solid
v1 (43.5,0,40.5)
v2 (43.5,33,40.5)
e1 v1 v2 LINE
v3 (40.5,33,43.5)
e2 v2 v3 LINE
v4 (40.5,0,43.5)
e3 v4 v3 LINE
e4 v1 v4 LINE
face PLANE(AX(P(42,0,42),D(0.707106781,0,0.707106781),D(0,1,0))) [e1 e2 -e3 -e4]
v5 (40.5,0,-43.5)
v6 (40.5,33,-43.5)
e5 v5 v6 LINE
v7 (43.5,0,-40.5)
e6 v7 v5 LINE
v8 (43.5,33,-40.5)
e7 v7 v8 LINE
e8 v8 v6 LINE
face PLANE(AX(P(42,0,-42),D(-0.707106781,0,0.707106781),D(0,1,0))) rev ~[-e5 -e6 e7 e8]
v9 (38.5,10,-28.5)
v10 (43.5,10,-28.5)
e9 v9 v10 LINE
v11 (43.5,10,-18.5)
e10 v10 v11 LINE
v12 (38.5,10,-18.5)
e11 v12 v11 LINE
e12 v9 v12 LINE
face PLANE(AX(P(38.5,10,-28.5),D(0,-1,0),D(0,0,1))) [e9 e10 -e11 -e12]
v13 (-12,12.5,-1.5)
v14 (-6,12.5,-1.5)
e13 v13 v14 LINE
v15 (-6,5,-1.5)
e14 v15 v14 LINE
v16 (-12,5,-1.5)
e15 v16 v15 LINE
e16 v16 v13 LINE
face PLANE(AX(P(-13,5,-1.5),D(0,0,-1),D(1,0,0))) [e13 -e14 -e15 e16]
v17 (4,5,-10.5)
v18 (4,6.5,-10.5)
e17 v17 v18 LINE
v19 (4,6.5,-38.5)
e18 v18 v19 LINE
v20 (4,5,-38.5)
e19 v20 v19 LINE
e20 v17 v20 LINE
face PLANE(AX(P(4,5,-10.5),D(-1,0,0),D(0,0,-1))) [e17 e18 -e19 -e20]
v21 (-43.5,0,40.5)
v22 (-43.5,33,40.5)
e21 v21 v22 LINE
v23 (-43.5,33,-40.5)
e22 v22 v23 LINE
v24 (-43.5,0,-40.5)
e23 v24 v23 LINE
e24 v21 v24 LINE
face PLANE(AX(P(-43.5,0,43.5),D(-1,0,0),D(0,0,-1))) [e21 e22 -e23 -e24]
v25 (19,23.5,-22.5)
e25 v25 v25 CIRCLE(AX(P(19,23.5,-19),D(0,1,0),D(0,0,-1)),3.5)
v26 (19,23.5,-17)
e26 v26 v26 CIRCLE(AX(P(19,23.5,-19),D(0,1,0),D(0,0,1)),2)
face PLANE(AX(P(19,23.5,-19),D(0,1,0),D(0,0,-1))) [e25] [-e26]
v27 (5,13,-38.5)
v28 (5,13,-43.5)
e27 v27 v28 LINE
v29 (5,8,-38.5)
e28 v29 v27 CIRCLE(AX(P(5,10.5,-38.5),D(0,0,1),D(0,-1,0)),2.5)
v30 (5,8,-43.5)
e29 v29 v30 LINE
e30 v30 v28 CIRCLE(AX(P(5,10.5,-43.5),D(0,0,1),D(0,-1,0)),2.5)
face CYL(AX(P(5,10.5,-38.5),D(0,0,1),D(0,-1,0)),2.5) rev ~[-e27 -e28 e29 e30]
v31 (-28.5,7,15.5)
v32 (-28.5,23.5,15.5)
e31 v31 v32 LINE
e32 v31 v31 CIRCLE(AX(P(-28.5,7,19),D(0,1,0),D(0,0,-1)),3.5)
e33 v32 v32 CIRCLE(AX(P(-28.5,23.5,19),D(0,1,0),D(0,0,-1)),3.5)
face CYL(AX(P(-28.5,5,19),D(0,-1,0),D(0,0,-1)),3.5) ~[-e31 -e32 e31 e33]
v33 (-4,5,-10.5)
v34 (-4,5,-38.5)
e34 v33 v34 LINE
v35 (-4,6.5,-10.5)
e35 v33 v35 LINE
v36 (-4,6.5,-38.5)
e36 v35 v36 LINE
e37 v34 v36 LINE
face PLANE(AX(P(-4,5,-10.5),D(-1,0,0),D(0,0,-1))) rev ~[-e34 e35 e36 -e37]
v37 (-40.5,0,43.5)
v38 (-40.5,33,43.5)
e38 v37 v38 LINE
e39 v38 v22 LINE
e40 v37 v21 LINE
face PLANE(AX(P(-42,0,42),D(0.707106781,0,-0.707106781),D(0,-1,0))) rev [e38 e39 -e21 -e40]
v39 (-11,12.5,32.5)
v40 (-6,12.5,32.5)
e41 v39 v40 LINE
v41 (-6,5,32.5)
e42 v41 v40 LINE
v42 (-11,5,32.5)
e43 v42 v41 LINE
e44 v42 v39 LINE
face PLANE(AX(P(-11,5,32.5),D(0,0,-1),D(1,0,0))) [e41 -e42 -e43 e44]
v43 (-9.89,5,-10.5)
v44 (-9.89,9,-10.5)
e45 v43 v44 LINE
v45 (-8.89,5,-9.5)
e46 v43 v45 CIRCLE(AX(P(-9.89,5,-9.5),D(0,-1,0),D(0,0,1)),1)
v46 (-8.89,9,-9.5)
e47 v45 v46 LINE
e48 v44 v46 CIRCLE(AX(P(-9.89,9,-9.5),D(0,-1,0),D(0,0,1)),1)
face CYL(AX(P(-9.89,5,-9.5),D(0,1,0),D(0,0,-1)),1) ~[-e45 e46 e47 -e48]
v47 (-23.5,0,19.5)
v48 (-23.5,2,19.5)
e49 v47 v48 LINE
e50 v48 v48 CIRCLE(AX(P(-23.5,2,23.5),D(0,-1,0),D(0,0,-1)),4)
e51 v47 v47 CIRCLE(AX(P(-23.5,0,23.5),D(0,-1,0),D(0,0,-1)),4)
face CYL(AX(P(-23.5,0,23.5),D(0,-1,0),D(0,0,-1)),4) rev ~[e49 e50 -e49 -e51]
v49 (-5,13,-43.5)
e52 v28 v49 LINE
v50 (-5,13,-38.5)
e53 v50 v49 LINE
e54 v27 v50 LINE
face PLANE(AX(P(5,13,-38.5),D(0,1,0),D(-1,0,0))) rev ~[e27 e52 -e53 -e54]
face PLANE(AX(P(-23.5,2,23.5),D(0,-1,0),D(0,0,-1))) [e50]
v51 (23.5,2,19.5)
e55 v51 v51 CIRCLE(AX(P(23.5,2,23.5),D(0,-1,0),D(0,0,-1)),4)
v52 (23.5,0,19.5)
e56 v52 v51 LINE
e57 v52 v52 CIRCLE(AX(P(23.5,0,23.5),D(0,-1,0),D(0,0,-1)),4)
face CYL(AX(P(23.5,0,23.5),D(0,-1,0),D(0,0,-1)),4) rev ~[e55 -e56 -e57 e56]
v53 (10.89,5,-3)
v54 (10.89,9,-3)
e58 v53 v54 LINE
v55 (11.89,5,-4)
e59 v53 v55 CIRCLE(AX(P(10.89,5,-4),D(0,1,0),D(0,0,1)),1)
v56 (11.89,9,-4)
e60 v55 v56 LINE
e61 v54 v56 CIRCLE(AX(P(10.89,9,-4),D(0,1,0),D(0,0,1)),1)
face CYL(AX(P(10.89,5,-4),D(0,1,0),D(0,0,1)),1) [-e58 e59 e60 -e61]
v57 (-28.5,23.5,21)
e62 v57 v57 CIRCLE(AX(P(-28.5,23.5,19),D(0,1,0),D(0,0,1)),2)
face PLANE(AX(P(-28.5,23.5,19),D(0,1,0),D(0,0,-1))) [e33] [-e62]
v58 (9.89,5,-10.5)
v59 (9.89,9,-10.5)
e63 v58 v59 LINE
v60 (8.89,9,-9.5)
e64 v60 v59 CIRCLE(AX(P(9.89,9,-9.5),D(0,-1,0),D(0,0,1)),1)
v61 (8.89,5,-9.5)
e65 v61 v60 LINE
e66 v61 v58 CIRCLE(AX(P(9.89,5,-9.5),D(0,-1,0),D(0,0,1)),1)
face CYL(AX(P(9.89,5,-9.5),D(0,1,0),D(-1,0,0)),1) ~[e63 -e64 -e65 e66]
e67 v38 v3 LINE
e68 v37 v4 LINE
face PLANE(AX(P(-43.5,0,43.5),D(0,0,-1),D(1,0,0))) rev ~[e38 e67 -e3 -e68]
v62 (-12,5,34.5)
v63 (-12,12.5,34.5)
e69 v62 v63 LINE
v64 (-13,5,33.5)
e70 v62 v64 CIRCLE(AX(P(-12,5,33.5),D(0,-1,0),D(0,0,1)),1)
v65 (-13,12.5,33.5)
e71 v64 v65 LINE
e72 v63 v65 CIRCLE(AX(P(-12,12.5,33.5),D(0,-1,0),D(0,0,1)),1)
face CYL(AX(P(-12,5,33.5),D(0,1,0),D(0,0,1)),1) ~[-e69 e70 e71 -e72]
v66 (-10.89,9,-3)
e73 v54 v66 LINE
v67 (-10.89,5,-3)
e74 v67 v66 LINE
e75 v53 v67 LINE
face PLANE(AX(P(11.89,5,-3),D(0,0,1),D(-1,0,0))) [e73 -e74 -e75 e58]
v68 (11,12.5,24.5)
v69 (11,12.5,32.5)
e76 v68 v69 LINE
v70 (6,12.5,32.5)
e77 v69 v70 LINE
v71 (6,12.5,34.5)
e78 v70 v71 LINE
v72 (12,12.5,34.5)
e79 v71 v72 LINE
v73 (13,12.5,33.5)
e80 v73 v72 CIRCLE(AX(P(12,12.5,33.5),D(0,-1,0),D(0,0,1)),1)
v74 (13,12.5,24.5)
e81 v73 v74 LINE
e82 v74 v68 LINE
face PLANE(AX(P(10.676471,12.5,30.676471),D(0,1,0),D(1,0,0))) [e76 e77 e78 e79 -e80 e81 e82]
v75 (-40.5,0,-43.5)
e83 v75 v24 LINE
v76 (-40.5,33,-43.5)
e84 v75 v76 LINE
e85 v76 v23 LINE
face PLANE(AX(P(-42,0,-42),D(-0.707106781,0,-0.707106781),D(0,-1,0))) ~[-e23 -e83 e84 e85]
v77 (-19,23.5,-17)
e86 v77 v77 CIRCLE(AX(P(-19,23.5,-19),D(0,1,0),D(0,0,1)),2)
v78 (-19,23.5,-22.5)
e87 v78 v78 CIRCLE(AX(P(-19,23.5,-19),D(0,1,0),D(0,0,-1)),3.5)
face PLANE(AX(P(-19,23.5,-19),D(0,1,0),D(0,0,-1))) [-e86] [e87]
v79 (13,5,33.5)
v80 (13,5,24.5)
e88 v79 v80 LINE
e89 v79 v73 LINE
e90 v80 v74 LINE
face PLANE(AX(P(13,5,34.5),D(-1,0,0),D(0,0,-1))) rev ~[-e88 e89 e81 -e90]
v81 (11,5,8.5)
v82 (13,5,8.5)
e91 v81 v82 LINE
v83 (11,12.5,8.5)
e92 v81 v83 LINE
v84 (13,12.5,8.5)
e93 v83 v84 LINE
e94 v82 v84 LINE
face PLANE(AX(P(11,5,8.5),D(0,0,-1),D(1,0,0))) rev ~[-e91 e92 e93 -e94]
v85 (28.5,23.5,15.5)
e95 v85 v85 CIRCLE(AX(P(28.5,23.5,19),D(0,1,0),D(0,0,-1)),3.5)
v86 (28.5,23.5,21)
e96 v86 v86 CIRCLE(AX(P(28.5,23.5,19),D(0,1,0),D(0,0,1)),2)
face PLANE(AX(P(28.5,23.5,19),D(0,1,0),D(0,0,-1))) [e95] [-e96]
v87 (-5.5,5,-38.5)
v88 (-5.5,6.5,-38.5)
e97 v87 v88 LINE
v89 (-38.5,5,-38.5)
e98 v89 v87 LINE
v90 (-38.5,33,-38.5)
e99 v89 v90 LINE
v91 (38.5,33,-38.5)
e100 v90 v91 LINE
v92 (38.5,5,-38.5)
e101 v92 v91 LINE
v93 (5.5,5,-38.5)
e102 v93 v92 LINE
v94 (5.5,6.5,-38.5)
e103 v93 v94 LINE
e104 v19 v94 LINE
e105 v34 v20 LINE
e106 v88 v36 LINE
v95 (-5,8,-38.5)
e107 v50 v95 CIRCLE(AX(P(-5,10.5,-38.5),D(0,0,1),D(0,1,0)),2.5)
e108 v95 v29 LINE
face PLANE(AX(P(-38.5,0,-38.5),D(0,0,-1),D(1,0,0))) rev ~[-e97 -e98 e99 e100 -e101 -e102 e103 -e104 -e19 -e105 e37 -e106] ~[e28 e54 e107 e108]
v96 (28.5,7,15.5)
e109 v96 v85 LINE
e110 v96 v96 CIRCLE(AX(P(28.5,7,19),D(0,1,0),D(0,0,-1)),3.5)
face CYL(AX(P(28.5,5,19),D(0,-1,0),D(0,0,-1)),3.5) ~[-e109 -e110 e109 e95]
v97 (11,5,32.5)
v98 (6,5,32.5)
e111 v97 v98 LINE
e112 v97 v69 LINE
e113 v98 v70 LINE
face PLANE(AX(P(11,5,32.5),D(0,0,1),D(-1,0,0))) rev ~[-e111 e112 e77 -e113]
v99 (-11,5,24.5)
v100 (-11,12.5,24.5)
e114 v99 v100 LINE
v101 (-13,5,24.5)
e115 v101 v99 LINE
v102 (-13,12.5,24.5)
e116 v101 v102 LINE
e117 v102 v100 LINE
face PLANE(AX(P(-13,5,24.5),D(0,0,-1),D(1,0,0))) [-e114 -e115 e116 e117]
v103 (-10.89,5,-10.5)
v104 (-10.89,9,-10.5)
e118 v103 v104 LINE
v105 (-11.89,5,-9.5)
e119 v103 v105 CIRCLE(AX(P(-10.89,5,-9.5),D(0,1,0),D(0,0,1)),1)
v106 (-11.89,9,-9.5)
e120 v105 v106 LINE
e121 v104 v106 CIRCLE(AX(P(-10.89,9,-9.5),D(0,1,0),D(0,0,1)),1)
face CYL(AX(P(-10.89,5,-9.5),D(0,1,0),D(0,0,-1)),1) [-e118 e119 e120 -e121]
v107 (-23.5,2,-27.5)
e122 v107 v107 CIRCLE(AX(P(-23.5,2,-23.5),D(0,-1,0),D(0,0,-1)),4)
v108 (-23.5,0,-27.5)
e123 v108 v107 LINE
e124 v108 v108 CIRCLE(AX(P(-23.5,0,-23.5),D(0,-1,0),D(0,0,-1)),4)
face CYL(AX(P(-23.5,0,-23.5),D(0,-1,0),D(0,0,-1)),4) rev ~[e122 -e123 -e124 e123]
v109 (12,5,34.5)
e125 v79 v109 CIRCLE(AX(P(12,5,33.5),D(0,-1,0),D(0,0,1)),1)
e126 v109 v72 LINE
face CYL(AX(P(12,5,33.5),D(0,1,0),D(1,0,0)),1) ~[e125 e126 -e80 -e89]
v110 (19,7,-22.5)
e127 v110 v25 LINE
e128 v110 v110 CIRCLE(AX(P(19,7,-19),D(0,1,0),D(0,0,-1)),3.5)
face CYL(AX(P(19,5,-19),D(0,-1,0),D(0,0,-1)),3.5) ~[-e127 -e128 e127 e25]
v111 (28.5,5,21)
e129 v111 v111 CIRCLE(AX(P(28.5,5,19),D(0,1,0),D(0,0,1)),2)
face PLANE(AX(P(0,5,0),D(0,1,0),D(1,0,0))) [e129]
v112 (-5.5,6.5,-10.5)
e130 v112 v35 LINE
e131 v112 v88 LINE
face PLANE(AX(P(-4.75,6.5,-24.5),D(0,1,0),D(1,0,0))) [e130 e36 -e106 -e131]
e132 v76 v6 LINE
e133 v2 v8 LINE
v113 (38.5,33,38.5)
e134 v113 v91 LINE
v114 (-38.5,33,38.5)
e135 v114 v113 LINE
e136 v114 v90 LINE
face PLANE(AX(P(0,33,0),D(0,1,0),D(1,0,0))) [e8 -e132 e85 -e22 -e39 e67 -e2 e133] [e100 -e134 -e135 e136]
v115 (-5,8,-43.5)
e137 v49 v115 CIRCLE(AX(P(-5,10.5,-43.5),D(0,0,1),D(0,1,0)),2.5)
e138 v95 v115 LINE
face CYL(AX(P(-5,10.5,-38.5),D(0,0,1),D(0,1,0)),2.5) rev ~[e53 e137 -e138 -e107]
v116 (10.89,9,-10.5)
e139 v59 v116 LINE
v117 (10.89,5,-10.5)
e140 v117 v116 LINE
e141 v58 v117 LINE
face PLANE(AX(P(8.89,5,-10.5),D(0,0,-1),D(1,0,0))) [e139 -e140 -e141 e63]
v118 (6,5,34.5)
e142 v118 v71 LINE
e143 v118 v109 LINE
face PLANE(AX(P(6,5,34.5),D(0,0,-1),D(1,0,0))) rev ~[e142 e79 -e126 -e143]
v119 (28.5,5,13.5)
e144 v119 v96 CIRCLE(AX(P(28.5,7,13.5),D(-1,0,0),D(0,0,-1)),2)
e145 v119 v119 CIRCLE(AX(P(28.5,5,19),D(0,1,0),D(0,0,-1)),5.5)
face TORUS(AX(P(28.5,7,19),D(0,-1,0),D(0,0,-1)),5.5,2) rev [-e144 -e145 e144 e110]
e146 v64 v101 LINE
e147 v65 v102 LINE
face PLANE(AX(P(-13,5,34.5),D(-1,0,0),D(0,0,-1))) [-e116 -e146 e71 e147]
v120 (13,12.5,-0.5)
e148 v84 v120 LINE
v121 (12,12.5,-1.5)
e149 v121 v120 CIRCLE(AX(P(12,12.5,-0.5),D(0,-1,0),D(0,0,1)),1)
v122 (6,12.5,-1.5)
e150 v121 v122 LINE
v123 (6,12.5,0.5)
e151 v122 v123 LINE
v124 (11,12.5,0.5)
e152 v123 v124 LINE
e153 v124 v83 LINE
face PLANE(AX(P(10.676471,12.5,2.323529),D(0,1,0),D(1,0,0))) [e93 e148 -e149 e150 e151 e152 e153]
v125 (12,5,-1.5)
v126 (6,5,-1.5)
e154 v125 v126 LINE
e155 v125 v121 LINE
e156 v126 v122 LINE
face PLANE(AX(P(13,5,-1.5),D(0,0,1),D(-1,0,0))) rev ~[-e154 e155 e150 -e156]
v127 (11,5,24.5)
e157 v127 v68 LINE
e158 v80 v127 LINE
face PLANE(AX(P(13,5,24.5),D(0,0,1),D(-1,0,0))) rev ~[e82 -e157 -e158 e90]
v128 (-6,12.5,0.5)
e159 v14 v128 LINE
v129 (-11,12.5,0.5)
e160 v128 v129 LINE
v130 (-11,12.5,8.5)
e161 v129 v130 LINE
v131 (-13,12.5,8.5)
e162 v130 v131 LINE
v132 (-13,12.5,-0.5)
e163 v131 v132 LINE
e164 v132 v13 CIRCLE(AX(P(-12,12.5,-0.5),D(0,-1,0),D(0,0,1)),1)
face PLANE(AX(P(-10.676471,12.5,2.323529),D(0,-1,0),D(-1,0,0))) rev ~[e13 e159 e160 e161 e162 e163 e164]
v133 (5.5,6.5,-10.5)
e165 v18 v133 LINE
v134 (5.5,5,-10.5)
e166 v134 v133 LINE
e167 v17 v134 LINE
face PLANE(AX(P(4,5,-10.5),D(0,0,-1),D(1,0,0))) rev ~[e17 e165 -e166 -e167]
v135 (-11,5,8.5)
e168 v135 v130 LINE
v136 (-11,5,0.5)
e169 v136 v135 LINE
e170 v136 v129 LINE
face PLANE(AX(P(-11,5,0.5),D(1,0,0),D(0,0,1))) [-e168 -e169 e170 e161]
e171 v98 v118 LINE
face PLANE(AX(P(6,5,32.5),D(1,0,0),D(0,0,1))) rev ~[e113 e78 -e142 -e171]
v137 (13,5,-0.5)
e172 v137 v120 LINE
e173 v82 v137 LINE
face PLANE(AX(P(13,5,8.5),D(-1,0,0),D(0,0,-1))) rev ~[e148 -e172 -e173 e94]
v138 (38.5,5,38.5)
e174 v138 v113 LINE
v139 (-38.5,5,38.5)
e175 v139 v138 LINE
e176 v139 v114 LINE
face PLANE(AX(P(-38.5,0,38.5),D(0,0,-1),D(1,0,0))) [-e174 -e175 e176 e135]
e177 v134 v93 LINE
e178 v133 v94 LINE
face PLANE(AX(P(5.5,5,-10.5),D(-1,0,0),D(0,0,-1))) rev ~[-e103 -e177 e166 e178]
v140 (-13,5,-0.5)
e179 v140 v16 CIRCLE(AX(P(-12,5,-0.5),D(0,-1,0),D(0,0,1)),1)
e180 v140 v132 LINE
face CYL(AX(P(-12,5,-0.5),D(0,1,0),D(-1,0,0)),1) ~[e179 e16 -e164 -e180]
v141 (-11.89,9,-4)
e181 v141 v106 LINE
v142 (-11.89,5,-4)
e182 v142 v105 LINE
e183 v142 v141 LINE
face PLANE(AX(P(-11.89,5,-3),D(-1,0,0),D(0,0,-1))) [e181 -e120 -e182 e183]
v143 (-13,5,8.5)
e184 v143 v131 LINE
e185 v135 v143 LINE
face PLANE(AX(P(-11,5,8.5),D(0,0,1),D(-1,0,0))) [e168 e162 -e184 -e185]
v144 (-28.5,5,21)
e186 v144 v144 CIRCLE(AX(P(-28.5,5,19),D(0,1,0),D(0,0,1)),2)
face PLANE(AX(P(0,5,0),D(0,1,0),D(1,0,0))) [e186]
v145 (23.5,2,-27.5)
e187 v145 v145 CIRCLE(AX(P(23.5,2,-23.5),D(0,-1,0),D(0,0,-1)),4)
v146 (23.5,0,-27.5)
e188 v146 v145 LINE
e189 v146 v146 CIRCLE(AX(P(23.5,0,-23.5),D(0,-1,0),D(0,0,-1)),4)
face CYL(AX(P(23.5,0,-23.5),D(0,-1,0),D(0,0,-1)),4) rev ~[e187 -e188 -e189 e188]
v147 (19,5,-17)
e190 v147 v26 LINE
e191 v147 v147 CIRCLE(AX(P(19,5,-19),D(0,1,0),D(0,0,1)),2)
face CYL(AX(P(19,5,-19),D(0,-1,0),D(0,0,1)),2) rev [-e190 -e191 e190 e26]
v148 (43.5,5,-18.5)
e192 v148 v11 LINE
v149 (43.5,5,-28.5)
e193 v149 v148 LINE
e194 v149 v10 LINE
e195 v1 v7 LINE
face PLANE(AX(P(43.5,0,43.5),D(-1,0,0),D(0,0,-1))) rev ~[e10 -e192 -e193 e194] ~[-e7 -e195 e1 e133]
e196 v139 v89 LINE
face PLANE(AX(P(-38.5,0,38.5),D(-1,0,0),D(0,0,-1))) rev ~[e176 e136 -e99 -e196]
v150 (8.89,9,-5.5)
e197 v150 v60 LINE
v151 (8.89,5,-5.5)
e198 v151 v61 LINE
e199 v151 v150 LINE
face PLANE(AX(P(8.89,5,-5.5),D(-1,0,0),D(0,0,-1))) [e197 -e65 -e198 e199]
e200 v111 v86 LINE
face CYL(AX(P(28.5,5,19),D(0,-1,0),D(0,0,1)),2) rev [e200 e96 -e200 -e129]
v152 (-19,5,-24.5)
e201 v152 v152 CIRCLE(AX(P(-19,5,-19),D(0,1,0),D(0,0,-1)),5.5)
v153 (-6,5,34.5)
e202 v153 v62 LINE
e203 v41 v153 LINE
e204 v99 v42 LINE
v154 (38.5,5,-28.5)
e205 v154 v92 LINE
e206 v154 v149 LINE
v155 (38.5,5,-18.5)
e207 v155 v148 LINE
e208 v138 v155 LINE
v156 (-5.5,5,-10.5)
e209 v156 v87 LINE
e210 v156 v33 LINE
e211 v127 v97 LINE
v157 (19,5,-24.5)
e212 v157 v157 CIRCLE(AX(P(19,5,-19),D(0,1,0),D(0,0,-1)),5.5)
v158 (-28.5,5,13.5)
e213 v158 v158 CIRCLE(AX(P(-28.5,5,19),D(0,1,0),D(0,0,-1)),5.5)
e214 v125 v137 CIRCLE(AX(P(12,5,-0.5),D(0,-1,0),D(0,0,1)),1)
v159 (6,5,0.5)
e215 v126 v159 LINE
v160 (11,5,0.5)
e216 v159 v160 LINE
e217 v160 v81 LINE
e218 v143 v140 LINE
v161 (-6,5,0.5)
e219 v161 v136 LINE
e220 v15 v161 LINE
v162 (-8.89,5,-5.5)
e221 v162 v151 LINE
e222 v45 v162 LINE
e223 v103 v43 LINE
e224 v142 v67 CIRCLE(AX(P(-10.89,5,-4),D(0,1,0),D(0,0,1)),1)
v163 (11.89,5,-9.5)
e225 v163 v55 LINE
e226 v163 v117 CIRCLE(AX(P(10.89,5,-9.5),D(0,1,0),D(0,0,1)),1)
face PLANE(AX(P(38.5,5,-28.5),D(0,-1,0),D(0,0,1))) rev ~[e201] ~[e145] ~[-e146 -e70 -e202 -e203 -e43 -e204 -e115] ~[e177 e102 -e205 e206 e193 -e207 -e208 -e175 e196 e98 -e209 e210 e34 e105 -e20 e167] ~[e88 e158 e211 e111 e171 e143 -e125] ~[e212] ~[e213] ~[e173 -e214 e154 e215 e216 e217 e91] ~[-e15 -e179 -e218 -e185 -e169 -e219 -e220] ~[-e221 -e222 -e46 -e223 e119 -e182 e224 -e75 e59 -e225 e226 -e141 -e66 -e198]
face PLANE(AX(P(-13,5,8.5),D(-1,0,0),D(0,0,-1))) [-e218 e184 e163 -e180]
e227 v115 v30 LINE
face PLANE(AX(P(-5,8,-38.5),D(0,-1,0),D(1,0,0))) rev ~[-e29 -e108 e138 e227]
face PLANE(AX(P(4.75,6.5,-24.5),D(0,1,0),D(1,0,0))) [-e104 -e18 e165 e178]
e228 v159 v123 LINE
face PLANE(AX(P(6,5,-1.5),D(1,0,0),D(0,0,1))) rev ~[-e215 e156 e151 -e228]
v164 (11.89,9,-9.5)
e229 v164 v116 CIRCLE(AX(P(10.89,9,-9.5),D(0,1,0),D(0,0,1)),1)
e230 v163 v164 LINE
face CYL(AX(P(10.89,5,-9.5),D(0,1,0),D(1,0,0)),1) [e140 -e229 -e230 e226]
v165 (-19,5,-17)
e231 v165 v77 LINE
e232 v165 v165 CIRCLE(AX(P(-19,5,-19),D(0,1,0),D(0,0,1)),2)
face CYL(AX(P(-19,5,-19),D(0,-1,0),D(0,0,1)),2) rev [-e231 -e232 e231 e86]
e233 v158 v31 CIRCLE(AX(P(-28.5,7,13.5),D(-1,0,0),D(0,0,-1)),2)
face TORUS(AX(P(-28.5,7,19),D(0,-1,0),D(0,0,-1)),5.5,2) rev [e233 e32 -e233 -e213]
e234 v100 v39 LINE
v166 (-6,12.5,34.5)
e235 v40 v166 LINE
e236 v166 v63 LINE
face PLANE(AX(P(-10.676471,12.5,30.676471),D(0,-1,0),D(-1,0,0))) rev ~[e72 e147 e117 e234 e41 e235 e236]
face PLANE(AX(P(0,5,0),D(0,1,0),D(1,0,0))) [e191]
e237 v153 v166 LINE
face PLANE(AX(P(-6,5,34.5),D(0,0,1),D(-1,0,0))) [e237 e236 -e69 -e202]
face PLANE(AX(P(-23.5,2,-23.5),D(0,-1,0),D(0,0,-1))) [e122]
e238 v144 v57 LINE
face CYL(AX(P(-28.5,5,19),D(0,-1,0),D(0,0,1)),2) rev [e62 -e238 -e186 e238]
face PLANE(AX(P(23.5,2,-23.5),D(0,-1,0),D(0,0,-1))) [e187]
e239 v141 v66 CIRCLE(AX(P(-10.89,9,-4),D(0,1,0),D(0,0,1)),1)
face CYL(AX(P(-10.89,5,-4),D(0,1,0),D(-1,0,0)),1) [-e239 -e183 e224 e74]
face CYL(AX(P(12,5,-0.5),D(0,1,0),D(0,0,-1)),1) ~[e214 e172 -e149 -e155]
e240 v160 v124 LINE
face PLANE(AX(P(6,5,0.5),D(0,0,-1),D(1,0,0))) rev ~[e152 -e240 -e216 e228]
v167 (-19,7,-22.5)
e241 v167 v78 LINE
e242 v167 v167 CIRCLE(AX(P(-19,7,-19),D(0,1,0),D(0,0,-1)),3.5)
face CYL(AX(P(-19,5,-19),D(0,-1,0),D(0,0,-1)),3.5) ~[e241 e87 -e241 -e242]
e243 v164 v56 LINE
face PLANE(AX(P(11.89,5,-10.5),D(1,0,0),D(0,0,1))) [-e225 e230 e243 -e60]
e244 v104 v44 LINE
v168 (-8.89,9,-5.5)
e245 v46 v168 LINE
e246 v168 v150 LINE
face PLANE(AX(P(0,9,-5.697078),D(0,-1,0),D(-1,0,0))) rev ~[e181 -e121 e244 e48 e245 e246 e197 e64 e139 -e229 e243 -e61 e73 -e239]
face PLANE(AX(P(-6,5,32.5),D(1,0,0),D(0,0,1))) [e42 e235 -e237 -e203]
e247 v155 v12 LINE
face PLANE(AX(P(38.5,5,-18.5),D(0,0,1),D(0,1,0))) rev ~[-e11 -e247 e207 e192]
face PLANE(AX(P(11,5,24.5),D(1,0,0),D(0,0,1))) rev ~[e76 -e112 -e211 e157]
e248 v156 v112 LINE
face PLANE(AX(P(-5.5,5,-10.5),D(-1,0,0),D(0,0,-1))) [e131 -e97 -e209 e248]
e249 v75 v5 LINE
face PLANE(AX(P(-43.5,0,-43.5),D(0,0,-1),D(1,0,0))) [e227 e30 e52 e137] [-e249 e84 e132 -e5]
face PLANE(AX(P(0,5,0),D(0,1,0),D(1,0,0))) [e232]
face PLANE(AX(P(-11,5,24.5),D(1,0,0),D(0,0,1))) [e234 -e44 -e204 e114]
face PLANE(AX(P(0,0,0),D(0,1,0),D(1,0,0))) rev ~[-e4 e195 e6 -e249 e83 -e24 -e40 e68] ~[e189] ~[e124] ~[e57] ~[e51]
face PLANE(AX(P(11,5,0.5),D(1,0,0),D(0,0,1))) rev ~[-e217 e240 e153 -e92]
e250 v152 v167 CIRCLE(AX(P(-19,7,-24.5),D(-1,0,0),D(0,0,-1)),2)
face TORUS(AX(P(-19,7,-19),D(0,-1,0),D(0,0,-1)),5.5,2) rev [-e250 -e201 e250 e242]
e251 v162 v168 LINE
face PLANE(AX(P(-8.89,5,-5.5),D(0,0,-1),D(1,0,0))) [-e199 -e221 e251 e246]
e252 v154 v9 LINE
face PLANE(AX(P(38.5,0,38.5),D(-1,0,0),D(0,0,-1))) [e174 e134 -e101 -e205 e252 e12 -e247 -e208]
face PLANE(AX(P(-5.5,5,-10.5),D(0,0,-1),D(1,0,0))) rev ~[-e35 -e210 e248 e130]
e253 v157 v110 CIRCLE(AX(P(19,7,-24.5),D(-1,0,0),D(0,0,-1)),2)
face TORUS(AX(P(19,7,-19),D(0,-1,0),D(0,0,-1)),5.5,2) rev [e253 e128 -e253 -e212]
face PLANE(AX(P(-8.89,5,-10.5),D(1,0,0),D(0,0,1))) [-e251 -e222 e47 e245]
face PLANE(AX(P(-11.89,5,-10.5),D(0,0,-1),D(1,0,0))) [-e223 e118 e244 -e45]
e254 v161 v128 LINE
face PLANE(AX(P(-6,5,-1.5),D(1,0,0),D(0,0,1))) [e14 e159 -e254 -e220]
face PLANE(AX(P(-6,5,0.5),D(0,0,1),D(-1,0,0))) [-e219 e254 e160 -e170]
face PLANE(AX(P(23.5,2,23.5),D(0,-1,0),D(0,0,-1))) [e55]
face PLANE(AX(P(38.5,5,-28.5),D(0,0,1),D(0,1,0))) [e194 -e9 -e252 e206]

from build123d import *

# Parameters (mm, degrees)
SKETCH1_W           = 77
SKETCH1_H           = 77
BOSS_EXTRUDE1_DEPTH = 5
SKETCH2_W           = 87
SKETCH2_H           = 87
SKETCH2_W_2         = 77
SKETCH2_H_2         = 77
BOSS_EXTRUDE2_DEPTH = 33
SKETCH3_R           = 3.5
SKETCH3_R_2         = 2
BOSS_EXTRUDE4_DEPTH = 18.5
SKETCH11_W          = 1.5
SKETCH11_H          = 28
BOSS_EXTRUDE7_DEPTH = 1.5
BOSS_EXTRUDE8_DEPTH = 4
SKETCH7_R           = 4
CUT_EXTRUDE1_DEPTH  = 2
CUT_EXTRUDE2_DEPTH  = 5
SKETCH16_W          = 10
SKETCH16_H          = 5
CUT_EXTRUDE3_DEPTH  = 5
BOSS_EXTRUDE6_DEPTH = 7.5
FILLET1_R           = 2
FILLET2_R           = 1
CHAMFER1_SIZE       = 3


with BuildPart() as part:
    # Sketch1 → Boss-Extrude1 (new body)
    with BuildSketch(Plane(origin=(0, 0, 0), x_dir=(1, 0, 0), z_dir=(0, 1, 0))):
        Rectangle(SKETCH1_W, SKETCH1_H)
    extrude(amount=BOSS_EXTRUDE1_DEPTH)

    # Sketch2 → Boss-Extrude2 (add)
    with BuildSketch(Plane(origin=(0, 0, 0), x_dir=(1, 0, 0), z_dir=(0, 1, 0))):
        Rectangle(SKETCH2_W, SKETCH2_H)
        Rectangle(SKETCH2_W_2, SKETCH2_H_2, mode=Mode.SUBTRACT)
    extrude(amount=BOSS_EXTRUDE2_DEPTH)

    # Sketch3 → Boss-Extrude4 (add)
    # profile 1 of 4: a face of its own
    with BuildSketch(Plane(origin=(0, 5, 0), x_dir=(1, 0, 0), z_dir=(0, 1, 0))):
        with Locations(Location((-28.5, -19, 0), (0, 0, 90))):
            Circle(SKETCH3_R)
        with Locations(Location((-28.5, -19, 0), (0, 0, 270))):
            Circle(SKETCH3_R_2, mode=Mode.SUBTRACT)
    # profile 2 of 4: a face of its own
    with BuildSketch(Plane(origin=(0, 5, 0), x_dir=(1, 0, 0), z_dir=(0, 1, 0))):
        with Locations(Location((-19, 19, 0), (0, 0, 90))):
            Circle(SKETCH3_R)
        with Locations(Location((-19, 19, 0), (0, 0, 270))):
            Circle(SKETCH3_R_2, mode=Mode.SUBTRACT)
    # profile 3 of 4: a face of its own
    with BuildSketch(Plane(origin=(0, 5, 0), x_dir=(1, 0, 0), z_dir=(0, 1, 0))):
        with Locations(Location((28.5, -19, 0), (0, 0, 90))):
            Circle(SKETCH3_R)
        with Locations(Location((28.5, -19, 0), (0, 0, 270))):
            Circle(SKETCH3_R_2, mode=Mode.SUBTRACT)
    # profile 4 of 4: a face of its own
    with BuildSketch(Plane(origin=(0, 5, 0), x_dir=(1, 0, 0), z_dir=(0, 1, 0))):
        with Locations(Location((19, 19, 0), (0, 0, 90))):
            Circle(SKETCH3_R)
        with Locations(Location((19, 19, 0), (0, 0, 270))):
            Circle(SKETCH3_R_2, mode=Mode.SUBTRACT)
    extrude(amount=BOSS_EXTRUDE4_DEPTH)

    # Sketch11 → Boss-Extrude7 (add)
    with BuildSketch(Plane(origin=(0, 5, 0), x_dir=(1, 0, 0), z_dir=(0, 1, 0))):
        with Locations((4.75, 24.5)):
            Rectangle(SKETCH11_W, SKETCH11_H)
        with Locations((-4.75, 24.5)):
            Rectangle(SKETCH11_W, SKETCH11_H)
    extrude(amount=BOSS_EXTRUDE7_DEPTH)

    # Sketch17 → Boss-Extrude8 (add)
    with BuildSketch(Plane(origin=(0, 5, 0), x_dir=(1, 0, 0), z_dir=(0, 1, 0))):
        Polygon((-8.89, 10.5), (-8.89, 5.5), (8.89, 5.5), (8.89, 10.5), (11.89, 10.5), (11.89, 3), (-11.89, 3), (-11.89, 10.5), align=None)
    extrude(amount=BOSS_EXTRUDE8_DEPTH)

    # Sketch7 → Cut-Extrude1 (cut)
    with BuildSketch(Plane.XZ):
        with Locations(Location((-23.5, -23.5, 0), (0, 0, 270))):
            Circle(SKETCH7_R)
        with Locations(Location((-23.5, 23.5, 0), (0, 0, 270))):
            Circle(SKETCH7_R)
        with Locations(Location((23.5, 23.5, 0), (0, 0, 270))):
            Circle(SKETCH7_R)
        with Locations(Location((23.5, -23.5, 0), (0, 0, 270))):
            Circle(SKETCH7_R)
    extrude(amount=-CUT_EXTRUDE1_DEPTH, mode=Mode.SUBTRACT)

    # Sketch10 → Cut-Extrude2 (cut)
    with BuildSketch(Plane(origin=(0, 0, -38.5), x_dir=(-1, 0, 0), z_dir=(0, 0, -1))):
        with BuildLine():
            Line((-5, 13), (5, 13))
            ThreePointArc((5, 13), (7.5, 10.5), (5, 8))
            Line((5, 8), (-5, 8))
            ThreePointArc((-5, 8), (-7.5, 10.5), (-5, 13))
        make_face()
    extrude(amount=CUT_EXTRUDE2_DEPTH, mode=Mode.SUBTRACT)

    # Sketch16 → Cut-Extrude3 (cut)
    with BuildSketch(Plane.ZY.offset(-38.5)):
        with Locations((-23.5, 7.5)):
            Rectangle(SKETCH16_W, SKETCH16_H)
    extrude(amount=-CUT_EXTRUDE3_DEPTH, mode=Mode.SUBTRACT)

    # Sketch15 → Boss-Extrude6 (add)
    with BuildSketch(Plane(origin=(0, 5, 0), x_dir=(1, 0, 0), z_dir=(0, 1, 0))):
        Polygon((-11, -0.5), (-11, -8.5), (-13, -8.5), (-13, 1.5), (-6, 1.5), (-6, -0.5), align=None)
        Polygon((-13, -24.5), (-11, -24.5), (-11, -32.5), (-6, -32.5), (-6, -34.5), (-13, -34.5), align=None)
        Polygon((13, -24.5), (11, -24.5), (11, -32.5), (6, -32.5), (6, -34.5), (13, -34.5), align=None)
        Polygon((6, 1.5), (6, -0.5), (11, -0.5), (11, -8.5), (13, -8.5), (13, 1.5), align=None)
    extrude(amount=BOSS_EXTRUDE6_DEPTH)

    # Fillet1
    fillet1_edges = [part.edges().sort_by_distance(p)[0] for p in [
        (28.5, 5, 22.5),
        (19, 5, -15.5),
        (-28.5, 5, 22.5),
        (-19, 5, -15.5),
    ]]
    fillet(fillet1_edges, radius=FILLET1_R)

    # Fillet2
    fillet2_edges = [part.edges().sort_by_distance(p)[0] for p in [
        (-8.89, 7, -10.5),
        (-11.89, 7, -10.5),
        (-11.89, 7, -3),
        (11.89, 7, -3),
        (11.89, 7, -10.5),
        (8.89, 7, -10.5),
        (-13, 8.75, -1.5),
        (13, 8.75, -1.5),
        (-13, 8.75, 34.5),
        (13, 8.75, 34.5),
    ]]
    fillet(fillet2_edges, radius=FILLET2_R)

    # Chamfer1
    chamfer1_edges = [part.edges().sort_by_distance(p)[0] for p in [
        (-43.5, 16.5, 43.5),
        (43.5, 16.5, 43.5),
        (43.5, 16.5, -43.5),
        (-43.5, 16.5, -43.5),
    ]]
    chamfer(chamfer1_edges, length=CHAMFER1_SIZE)


solid = part.part
